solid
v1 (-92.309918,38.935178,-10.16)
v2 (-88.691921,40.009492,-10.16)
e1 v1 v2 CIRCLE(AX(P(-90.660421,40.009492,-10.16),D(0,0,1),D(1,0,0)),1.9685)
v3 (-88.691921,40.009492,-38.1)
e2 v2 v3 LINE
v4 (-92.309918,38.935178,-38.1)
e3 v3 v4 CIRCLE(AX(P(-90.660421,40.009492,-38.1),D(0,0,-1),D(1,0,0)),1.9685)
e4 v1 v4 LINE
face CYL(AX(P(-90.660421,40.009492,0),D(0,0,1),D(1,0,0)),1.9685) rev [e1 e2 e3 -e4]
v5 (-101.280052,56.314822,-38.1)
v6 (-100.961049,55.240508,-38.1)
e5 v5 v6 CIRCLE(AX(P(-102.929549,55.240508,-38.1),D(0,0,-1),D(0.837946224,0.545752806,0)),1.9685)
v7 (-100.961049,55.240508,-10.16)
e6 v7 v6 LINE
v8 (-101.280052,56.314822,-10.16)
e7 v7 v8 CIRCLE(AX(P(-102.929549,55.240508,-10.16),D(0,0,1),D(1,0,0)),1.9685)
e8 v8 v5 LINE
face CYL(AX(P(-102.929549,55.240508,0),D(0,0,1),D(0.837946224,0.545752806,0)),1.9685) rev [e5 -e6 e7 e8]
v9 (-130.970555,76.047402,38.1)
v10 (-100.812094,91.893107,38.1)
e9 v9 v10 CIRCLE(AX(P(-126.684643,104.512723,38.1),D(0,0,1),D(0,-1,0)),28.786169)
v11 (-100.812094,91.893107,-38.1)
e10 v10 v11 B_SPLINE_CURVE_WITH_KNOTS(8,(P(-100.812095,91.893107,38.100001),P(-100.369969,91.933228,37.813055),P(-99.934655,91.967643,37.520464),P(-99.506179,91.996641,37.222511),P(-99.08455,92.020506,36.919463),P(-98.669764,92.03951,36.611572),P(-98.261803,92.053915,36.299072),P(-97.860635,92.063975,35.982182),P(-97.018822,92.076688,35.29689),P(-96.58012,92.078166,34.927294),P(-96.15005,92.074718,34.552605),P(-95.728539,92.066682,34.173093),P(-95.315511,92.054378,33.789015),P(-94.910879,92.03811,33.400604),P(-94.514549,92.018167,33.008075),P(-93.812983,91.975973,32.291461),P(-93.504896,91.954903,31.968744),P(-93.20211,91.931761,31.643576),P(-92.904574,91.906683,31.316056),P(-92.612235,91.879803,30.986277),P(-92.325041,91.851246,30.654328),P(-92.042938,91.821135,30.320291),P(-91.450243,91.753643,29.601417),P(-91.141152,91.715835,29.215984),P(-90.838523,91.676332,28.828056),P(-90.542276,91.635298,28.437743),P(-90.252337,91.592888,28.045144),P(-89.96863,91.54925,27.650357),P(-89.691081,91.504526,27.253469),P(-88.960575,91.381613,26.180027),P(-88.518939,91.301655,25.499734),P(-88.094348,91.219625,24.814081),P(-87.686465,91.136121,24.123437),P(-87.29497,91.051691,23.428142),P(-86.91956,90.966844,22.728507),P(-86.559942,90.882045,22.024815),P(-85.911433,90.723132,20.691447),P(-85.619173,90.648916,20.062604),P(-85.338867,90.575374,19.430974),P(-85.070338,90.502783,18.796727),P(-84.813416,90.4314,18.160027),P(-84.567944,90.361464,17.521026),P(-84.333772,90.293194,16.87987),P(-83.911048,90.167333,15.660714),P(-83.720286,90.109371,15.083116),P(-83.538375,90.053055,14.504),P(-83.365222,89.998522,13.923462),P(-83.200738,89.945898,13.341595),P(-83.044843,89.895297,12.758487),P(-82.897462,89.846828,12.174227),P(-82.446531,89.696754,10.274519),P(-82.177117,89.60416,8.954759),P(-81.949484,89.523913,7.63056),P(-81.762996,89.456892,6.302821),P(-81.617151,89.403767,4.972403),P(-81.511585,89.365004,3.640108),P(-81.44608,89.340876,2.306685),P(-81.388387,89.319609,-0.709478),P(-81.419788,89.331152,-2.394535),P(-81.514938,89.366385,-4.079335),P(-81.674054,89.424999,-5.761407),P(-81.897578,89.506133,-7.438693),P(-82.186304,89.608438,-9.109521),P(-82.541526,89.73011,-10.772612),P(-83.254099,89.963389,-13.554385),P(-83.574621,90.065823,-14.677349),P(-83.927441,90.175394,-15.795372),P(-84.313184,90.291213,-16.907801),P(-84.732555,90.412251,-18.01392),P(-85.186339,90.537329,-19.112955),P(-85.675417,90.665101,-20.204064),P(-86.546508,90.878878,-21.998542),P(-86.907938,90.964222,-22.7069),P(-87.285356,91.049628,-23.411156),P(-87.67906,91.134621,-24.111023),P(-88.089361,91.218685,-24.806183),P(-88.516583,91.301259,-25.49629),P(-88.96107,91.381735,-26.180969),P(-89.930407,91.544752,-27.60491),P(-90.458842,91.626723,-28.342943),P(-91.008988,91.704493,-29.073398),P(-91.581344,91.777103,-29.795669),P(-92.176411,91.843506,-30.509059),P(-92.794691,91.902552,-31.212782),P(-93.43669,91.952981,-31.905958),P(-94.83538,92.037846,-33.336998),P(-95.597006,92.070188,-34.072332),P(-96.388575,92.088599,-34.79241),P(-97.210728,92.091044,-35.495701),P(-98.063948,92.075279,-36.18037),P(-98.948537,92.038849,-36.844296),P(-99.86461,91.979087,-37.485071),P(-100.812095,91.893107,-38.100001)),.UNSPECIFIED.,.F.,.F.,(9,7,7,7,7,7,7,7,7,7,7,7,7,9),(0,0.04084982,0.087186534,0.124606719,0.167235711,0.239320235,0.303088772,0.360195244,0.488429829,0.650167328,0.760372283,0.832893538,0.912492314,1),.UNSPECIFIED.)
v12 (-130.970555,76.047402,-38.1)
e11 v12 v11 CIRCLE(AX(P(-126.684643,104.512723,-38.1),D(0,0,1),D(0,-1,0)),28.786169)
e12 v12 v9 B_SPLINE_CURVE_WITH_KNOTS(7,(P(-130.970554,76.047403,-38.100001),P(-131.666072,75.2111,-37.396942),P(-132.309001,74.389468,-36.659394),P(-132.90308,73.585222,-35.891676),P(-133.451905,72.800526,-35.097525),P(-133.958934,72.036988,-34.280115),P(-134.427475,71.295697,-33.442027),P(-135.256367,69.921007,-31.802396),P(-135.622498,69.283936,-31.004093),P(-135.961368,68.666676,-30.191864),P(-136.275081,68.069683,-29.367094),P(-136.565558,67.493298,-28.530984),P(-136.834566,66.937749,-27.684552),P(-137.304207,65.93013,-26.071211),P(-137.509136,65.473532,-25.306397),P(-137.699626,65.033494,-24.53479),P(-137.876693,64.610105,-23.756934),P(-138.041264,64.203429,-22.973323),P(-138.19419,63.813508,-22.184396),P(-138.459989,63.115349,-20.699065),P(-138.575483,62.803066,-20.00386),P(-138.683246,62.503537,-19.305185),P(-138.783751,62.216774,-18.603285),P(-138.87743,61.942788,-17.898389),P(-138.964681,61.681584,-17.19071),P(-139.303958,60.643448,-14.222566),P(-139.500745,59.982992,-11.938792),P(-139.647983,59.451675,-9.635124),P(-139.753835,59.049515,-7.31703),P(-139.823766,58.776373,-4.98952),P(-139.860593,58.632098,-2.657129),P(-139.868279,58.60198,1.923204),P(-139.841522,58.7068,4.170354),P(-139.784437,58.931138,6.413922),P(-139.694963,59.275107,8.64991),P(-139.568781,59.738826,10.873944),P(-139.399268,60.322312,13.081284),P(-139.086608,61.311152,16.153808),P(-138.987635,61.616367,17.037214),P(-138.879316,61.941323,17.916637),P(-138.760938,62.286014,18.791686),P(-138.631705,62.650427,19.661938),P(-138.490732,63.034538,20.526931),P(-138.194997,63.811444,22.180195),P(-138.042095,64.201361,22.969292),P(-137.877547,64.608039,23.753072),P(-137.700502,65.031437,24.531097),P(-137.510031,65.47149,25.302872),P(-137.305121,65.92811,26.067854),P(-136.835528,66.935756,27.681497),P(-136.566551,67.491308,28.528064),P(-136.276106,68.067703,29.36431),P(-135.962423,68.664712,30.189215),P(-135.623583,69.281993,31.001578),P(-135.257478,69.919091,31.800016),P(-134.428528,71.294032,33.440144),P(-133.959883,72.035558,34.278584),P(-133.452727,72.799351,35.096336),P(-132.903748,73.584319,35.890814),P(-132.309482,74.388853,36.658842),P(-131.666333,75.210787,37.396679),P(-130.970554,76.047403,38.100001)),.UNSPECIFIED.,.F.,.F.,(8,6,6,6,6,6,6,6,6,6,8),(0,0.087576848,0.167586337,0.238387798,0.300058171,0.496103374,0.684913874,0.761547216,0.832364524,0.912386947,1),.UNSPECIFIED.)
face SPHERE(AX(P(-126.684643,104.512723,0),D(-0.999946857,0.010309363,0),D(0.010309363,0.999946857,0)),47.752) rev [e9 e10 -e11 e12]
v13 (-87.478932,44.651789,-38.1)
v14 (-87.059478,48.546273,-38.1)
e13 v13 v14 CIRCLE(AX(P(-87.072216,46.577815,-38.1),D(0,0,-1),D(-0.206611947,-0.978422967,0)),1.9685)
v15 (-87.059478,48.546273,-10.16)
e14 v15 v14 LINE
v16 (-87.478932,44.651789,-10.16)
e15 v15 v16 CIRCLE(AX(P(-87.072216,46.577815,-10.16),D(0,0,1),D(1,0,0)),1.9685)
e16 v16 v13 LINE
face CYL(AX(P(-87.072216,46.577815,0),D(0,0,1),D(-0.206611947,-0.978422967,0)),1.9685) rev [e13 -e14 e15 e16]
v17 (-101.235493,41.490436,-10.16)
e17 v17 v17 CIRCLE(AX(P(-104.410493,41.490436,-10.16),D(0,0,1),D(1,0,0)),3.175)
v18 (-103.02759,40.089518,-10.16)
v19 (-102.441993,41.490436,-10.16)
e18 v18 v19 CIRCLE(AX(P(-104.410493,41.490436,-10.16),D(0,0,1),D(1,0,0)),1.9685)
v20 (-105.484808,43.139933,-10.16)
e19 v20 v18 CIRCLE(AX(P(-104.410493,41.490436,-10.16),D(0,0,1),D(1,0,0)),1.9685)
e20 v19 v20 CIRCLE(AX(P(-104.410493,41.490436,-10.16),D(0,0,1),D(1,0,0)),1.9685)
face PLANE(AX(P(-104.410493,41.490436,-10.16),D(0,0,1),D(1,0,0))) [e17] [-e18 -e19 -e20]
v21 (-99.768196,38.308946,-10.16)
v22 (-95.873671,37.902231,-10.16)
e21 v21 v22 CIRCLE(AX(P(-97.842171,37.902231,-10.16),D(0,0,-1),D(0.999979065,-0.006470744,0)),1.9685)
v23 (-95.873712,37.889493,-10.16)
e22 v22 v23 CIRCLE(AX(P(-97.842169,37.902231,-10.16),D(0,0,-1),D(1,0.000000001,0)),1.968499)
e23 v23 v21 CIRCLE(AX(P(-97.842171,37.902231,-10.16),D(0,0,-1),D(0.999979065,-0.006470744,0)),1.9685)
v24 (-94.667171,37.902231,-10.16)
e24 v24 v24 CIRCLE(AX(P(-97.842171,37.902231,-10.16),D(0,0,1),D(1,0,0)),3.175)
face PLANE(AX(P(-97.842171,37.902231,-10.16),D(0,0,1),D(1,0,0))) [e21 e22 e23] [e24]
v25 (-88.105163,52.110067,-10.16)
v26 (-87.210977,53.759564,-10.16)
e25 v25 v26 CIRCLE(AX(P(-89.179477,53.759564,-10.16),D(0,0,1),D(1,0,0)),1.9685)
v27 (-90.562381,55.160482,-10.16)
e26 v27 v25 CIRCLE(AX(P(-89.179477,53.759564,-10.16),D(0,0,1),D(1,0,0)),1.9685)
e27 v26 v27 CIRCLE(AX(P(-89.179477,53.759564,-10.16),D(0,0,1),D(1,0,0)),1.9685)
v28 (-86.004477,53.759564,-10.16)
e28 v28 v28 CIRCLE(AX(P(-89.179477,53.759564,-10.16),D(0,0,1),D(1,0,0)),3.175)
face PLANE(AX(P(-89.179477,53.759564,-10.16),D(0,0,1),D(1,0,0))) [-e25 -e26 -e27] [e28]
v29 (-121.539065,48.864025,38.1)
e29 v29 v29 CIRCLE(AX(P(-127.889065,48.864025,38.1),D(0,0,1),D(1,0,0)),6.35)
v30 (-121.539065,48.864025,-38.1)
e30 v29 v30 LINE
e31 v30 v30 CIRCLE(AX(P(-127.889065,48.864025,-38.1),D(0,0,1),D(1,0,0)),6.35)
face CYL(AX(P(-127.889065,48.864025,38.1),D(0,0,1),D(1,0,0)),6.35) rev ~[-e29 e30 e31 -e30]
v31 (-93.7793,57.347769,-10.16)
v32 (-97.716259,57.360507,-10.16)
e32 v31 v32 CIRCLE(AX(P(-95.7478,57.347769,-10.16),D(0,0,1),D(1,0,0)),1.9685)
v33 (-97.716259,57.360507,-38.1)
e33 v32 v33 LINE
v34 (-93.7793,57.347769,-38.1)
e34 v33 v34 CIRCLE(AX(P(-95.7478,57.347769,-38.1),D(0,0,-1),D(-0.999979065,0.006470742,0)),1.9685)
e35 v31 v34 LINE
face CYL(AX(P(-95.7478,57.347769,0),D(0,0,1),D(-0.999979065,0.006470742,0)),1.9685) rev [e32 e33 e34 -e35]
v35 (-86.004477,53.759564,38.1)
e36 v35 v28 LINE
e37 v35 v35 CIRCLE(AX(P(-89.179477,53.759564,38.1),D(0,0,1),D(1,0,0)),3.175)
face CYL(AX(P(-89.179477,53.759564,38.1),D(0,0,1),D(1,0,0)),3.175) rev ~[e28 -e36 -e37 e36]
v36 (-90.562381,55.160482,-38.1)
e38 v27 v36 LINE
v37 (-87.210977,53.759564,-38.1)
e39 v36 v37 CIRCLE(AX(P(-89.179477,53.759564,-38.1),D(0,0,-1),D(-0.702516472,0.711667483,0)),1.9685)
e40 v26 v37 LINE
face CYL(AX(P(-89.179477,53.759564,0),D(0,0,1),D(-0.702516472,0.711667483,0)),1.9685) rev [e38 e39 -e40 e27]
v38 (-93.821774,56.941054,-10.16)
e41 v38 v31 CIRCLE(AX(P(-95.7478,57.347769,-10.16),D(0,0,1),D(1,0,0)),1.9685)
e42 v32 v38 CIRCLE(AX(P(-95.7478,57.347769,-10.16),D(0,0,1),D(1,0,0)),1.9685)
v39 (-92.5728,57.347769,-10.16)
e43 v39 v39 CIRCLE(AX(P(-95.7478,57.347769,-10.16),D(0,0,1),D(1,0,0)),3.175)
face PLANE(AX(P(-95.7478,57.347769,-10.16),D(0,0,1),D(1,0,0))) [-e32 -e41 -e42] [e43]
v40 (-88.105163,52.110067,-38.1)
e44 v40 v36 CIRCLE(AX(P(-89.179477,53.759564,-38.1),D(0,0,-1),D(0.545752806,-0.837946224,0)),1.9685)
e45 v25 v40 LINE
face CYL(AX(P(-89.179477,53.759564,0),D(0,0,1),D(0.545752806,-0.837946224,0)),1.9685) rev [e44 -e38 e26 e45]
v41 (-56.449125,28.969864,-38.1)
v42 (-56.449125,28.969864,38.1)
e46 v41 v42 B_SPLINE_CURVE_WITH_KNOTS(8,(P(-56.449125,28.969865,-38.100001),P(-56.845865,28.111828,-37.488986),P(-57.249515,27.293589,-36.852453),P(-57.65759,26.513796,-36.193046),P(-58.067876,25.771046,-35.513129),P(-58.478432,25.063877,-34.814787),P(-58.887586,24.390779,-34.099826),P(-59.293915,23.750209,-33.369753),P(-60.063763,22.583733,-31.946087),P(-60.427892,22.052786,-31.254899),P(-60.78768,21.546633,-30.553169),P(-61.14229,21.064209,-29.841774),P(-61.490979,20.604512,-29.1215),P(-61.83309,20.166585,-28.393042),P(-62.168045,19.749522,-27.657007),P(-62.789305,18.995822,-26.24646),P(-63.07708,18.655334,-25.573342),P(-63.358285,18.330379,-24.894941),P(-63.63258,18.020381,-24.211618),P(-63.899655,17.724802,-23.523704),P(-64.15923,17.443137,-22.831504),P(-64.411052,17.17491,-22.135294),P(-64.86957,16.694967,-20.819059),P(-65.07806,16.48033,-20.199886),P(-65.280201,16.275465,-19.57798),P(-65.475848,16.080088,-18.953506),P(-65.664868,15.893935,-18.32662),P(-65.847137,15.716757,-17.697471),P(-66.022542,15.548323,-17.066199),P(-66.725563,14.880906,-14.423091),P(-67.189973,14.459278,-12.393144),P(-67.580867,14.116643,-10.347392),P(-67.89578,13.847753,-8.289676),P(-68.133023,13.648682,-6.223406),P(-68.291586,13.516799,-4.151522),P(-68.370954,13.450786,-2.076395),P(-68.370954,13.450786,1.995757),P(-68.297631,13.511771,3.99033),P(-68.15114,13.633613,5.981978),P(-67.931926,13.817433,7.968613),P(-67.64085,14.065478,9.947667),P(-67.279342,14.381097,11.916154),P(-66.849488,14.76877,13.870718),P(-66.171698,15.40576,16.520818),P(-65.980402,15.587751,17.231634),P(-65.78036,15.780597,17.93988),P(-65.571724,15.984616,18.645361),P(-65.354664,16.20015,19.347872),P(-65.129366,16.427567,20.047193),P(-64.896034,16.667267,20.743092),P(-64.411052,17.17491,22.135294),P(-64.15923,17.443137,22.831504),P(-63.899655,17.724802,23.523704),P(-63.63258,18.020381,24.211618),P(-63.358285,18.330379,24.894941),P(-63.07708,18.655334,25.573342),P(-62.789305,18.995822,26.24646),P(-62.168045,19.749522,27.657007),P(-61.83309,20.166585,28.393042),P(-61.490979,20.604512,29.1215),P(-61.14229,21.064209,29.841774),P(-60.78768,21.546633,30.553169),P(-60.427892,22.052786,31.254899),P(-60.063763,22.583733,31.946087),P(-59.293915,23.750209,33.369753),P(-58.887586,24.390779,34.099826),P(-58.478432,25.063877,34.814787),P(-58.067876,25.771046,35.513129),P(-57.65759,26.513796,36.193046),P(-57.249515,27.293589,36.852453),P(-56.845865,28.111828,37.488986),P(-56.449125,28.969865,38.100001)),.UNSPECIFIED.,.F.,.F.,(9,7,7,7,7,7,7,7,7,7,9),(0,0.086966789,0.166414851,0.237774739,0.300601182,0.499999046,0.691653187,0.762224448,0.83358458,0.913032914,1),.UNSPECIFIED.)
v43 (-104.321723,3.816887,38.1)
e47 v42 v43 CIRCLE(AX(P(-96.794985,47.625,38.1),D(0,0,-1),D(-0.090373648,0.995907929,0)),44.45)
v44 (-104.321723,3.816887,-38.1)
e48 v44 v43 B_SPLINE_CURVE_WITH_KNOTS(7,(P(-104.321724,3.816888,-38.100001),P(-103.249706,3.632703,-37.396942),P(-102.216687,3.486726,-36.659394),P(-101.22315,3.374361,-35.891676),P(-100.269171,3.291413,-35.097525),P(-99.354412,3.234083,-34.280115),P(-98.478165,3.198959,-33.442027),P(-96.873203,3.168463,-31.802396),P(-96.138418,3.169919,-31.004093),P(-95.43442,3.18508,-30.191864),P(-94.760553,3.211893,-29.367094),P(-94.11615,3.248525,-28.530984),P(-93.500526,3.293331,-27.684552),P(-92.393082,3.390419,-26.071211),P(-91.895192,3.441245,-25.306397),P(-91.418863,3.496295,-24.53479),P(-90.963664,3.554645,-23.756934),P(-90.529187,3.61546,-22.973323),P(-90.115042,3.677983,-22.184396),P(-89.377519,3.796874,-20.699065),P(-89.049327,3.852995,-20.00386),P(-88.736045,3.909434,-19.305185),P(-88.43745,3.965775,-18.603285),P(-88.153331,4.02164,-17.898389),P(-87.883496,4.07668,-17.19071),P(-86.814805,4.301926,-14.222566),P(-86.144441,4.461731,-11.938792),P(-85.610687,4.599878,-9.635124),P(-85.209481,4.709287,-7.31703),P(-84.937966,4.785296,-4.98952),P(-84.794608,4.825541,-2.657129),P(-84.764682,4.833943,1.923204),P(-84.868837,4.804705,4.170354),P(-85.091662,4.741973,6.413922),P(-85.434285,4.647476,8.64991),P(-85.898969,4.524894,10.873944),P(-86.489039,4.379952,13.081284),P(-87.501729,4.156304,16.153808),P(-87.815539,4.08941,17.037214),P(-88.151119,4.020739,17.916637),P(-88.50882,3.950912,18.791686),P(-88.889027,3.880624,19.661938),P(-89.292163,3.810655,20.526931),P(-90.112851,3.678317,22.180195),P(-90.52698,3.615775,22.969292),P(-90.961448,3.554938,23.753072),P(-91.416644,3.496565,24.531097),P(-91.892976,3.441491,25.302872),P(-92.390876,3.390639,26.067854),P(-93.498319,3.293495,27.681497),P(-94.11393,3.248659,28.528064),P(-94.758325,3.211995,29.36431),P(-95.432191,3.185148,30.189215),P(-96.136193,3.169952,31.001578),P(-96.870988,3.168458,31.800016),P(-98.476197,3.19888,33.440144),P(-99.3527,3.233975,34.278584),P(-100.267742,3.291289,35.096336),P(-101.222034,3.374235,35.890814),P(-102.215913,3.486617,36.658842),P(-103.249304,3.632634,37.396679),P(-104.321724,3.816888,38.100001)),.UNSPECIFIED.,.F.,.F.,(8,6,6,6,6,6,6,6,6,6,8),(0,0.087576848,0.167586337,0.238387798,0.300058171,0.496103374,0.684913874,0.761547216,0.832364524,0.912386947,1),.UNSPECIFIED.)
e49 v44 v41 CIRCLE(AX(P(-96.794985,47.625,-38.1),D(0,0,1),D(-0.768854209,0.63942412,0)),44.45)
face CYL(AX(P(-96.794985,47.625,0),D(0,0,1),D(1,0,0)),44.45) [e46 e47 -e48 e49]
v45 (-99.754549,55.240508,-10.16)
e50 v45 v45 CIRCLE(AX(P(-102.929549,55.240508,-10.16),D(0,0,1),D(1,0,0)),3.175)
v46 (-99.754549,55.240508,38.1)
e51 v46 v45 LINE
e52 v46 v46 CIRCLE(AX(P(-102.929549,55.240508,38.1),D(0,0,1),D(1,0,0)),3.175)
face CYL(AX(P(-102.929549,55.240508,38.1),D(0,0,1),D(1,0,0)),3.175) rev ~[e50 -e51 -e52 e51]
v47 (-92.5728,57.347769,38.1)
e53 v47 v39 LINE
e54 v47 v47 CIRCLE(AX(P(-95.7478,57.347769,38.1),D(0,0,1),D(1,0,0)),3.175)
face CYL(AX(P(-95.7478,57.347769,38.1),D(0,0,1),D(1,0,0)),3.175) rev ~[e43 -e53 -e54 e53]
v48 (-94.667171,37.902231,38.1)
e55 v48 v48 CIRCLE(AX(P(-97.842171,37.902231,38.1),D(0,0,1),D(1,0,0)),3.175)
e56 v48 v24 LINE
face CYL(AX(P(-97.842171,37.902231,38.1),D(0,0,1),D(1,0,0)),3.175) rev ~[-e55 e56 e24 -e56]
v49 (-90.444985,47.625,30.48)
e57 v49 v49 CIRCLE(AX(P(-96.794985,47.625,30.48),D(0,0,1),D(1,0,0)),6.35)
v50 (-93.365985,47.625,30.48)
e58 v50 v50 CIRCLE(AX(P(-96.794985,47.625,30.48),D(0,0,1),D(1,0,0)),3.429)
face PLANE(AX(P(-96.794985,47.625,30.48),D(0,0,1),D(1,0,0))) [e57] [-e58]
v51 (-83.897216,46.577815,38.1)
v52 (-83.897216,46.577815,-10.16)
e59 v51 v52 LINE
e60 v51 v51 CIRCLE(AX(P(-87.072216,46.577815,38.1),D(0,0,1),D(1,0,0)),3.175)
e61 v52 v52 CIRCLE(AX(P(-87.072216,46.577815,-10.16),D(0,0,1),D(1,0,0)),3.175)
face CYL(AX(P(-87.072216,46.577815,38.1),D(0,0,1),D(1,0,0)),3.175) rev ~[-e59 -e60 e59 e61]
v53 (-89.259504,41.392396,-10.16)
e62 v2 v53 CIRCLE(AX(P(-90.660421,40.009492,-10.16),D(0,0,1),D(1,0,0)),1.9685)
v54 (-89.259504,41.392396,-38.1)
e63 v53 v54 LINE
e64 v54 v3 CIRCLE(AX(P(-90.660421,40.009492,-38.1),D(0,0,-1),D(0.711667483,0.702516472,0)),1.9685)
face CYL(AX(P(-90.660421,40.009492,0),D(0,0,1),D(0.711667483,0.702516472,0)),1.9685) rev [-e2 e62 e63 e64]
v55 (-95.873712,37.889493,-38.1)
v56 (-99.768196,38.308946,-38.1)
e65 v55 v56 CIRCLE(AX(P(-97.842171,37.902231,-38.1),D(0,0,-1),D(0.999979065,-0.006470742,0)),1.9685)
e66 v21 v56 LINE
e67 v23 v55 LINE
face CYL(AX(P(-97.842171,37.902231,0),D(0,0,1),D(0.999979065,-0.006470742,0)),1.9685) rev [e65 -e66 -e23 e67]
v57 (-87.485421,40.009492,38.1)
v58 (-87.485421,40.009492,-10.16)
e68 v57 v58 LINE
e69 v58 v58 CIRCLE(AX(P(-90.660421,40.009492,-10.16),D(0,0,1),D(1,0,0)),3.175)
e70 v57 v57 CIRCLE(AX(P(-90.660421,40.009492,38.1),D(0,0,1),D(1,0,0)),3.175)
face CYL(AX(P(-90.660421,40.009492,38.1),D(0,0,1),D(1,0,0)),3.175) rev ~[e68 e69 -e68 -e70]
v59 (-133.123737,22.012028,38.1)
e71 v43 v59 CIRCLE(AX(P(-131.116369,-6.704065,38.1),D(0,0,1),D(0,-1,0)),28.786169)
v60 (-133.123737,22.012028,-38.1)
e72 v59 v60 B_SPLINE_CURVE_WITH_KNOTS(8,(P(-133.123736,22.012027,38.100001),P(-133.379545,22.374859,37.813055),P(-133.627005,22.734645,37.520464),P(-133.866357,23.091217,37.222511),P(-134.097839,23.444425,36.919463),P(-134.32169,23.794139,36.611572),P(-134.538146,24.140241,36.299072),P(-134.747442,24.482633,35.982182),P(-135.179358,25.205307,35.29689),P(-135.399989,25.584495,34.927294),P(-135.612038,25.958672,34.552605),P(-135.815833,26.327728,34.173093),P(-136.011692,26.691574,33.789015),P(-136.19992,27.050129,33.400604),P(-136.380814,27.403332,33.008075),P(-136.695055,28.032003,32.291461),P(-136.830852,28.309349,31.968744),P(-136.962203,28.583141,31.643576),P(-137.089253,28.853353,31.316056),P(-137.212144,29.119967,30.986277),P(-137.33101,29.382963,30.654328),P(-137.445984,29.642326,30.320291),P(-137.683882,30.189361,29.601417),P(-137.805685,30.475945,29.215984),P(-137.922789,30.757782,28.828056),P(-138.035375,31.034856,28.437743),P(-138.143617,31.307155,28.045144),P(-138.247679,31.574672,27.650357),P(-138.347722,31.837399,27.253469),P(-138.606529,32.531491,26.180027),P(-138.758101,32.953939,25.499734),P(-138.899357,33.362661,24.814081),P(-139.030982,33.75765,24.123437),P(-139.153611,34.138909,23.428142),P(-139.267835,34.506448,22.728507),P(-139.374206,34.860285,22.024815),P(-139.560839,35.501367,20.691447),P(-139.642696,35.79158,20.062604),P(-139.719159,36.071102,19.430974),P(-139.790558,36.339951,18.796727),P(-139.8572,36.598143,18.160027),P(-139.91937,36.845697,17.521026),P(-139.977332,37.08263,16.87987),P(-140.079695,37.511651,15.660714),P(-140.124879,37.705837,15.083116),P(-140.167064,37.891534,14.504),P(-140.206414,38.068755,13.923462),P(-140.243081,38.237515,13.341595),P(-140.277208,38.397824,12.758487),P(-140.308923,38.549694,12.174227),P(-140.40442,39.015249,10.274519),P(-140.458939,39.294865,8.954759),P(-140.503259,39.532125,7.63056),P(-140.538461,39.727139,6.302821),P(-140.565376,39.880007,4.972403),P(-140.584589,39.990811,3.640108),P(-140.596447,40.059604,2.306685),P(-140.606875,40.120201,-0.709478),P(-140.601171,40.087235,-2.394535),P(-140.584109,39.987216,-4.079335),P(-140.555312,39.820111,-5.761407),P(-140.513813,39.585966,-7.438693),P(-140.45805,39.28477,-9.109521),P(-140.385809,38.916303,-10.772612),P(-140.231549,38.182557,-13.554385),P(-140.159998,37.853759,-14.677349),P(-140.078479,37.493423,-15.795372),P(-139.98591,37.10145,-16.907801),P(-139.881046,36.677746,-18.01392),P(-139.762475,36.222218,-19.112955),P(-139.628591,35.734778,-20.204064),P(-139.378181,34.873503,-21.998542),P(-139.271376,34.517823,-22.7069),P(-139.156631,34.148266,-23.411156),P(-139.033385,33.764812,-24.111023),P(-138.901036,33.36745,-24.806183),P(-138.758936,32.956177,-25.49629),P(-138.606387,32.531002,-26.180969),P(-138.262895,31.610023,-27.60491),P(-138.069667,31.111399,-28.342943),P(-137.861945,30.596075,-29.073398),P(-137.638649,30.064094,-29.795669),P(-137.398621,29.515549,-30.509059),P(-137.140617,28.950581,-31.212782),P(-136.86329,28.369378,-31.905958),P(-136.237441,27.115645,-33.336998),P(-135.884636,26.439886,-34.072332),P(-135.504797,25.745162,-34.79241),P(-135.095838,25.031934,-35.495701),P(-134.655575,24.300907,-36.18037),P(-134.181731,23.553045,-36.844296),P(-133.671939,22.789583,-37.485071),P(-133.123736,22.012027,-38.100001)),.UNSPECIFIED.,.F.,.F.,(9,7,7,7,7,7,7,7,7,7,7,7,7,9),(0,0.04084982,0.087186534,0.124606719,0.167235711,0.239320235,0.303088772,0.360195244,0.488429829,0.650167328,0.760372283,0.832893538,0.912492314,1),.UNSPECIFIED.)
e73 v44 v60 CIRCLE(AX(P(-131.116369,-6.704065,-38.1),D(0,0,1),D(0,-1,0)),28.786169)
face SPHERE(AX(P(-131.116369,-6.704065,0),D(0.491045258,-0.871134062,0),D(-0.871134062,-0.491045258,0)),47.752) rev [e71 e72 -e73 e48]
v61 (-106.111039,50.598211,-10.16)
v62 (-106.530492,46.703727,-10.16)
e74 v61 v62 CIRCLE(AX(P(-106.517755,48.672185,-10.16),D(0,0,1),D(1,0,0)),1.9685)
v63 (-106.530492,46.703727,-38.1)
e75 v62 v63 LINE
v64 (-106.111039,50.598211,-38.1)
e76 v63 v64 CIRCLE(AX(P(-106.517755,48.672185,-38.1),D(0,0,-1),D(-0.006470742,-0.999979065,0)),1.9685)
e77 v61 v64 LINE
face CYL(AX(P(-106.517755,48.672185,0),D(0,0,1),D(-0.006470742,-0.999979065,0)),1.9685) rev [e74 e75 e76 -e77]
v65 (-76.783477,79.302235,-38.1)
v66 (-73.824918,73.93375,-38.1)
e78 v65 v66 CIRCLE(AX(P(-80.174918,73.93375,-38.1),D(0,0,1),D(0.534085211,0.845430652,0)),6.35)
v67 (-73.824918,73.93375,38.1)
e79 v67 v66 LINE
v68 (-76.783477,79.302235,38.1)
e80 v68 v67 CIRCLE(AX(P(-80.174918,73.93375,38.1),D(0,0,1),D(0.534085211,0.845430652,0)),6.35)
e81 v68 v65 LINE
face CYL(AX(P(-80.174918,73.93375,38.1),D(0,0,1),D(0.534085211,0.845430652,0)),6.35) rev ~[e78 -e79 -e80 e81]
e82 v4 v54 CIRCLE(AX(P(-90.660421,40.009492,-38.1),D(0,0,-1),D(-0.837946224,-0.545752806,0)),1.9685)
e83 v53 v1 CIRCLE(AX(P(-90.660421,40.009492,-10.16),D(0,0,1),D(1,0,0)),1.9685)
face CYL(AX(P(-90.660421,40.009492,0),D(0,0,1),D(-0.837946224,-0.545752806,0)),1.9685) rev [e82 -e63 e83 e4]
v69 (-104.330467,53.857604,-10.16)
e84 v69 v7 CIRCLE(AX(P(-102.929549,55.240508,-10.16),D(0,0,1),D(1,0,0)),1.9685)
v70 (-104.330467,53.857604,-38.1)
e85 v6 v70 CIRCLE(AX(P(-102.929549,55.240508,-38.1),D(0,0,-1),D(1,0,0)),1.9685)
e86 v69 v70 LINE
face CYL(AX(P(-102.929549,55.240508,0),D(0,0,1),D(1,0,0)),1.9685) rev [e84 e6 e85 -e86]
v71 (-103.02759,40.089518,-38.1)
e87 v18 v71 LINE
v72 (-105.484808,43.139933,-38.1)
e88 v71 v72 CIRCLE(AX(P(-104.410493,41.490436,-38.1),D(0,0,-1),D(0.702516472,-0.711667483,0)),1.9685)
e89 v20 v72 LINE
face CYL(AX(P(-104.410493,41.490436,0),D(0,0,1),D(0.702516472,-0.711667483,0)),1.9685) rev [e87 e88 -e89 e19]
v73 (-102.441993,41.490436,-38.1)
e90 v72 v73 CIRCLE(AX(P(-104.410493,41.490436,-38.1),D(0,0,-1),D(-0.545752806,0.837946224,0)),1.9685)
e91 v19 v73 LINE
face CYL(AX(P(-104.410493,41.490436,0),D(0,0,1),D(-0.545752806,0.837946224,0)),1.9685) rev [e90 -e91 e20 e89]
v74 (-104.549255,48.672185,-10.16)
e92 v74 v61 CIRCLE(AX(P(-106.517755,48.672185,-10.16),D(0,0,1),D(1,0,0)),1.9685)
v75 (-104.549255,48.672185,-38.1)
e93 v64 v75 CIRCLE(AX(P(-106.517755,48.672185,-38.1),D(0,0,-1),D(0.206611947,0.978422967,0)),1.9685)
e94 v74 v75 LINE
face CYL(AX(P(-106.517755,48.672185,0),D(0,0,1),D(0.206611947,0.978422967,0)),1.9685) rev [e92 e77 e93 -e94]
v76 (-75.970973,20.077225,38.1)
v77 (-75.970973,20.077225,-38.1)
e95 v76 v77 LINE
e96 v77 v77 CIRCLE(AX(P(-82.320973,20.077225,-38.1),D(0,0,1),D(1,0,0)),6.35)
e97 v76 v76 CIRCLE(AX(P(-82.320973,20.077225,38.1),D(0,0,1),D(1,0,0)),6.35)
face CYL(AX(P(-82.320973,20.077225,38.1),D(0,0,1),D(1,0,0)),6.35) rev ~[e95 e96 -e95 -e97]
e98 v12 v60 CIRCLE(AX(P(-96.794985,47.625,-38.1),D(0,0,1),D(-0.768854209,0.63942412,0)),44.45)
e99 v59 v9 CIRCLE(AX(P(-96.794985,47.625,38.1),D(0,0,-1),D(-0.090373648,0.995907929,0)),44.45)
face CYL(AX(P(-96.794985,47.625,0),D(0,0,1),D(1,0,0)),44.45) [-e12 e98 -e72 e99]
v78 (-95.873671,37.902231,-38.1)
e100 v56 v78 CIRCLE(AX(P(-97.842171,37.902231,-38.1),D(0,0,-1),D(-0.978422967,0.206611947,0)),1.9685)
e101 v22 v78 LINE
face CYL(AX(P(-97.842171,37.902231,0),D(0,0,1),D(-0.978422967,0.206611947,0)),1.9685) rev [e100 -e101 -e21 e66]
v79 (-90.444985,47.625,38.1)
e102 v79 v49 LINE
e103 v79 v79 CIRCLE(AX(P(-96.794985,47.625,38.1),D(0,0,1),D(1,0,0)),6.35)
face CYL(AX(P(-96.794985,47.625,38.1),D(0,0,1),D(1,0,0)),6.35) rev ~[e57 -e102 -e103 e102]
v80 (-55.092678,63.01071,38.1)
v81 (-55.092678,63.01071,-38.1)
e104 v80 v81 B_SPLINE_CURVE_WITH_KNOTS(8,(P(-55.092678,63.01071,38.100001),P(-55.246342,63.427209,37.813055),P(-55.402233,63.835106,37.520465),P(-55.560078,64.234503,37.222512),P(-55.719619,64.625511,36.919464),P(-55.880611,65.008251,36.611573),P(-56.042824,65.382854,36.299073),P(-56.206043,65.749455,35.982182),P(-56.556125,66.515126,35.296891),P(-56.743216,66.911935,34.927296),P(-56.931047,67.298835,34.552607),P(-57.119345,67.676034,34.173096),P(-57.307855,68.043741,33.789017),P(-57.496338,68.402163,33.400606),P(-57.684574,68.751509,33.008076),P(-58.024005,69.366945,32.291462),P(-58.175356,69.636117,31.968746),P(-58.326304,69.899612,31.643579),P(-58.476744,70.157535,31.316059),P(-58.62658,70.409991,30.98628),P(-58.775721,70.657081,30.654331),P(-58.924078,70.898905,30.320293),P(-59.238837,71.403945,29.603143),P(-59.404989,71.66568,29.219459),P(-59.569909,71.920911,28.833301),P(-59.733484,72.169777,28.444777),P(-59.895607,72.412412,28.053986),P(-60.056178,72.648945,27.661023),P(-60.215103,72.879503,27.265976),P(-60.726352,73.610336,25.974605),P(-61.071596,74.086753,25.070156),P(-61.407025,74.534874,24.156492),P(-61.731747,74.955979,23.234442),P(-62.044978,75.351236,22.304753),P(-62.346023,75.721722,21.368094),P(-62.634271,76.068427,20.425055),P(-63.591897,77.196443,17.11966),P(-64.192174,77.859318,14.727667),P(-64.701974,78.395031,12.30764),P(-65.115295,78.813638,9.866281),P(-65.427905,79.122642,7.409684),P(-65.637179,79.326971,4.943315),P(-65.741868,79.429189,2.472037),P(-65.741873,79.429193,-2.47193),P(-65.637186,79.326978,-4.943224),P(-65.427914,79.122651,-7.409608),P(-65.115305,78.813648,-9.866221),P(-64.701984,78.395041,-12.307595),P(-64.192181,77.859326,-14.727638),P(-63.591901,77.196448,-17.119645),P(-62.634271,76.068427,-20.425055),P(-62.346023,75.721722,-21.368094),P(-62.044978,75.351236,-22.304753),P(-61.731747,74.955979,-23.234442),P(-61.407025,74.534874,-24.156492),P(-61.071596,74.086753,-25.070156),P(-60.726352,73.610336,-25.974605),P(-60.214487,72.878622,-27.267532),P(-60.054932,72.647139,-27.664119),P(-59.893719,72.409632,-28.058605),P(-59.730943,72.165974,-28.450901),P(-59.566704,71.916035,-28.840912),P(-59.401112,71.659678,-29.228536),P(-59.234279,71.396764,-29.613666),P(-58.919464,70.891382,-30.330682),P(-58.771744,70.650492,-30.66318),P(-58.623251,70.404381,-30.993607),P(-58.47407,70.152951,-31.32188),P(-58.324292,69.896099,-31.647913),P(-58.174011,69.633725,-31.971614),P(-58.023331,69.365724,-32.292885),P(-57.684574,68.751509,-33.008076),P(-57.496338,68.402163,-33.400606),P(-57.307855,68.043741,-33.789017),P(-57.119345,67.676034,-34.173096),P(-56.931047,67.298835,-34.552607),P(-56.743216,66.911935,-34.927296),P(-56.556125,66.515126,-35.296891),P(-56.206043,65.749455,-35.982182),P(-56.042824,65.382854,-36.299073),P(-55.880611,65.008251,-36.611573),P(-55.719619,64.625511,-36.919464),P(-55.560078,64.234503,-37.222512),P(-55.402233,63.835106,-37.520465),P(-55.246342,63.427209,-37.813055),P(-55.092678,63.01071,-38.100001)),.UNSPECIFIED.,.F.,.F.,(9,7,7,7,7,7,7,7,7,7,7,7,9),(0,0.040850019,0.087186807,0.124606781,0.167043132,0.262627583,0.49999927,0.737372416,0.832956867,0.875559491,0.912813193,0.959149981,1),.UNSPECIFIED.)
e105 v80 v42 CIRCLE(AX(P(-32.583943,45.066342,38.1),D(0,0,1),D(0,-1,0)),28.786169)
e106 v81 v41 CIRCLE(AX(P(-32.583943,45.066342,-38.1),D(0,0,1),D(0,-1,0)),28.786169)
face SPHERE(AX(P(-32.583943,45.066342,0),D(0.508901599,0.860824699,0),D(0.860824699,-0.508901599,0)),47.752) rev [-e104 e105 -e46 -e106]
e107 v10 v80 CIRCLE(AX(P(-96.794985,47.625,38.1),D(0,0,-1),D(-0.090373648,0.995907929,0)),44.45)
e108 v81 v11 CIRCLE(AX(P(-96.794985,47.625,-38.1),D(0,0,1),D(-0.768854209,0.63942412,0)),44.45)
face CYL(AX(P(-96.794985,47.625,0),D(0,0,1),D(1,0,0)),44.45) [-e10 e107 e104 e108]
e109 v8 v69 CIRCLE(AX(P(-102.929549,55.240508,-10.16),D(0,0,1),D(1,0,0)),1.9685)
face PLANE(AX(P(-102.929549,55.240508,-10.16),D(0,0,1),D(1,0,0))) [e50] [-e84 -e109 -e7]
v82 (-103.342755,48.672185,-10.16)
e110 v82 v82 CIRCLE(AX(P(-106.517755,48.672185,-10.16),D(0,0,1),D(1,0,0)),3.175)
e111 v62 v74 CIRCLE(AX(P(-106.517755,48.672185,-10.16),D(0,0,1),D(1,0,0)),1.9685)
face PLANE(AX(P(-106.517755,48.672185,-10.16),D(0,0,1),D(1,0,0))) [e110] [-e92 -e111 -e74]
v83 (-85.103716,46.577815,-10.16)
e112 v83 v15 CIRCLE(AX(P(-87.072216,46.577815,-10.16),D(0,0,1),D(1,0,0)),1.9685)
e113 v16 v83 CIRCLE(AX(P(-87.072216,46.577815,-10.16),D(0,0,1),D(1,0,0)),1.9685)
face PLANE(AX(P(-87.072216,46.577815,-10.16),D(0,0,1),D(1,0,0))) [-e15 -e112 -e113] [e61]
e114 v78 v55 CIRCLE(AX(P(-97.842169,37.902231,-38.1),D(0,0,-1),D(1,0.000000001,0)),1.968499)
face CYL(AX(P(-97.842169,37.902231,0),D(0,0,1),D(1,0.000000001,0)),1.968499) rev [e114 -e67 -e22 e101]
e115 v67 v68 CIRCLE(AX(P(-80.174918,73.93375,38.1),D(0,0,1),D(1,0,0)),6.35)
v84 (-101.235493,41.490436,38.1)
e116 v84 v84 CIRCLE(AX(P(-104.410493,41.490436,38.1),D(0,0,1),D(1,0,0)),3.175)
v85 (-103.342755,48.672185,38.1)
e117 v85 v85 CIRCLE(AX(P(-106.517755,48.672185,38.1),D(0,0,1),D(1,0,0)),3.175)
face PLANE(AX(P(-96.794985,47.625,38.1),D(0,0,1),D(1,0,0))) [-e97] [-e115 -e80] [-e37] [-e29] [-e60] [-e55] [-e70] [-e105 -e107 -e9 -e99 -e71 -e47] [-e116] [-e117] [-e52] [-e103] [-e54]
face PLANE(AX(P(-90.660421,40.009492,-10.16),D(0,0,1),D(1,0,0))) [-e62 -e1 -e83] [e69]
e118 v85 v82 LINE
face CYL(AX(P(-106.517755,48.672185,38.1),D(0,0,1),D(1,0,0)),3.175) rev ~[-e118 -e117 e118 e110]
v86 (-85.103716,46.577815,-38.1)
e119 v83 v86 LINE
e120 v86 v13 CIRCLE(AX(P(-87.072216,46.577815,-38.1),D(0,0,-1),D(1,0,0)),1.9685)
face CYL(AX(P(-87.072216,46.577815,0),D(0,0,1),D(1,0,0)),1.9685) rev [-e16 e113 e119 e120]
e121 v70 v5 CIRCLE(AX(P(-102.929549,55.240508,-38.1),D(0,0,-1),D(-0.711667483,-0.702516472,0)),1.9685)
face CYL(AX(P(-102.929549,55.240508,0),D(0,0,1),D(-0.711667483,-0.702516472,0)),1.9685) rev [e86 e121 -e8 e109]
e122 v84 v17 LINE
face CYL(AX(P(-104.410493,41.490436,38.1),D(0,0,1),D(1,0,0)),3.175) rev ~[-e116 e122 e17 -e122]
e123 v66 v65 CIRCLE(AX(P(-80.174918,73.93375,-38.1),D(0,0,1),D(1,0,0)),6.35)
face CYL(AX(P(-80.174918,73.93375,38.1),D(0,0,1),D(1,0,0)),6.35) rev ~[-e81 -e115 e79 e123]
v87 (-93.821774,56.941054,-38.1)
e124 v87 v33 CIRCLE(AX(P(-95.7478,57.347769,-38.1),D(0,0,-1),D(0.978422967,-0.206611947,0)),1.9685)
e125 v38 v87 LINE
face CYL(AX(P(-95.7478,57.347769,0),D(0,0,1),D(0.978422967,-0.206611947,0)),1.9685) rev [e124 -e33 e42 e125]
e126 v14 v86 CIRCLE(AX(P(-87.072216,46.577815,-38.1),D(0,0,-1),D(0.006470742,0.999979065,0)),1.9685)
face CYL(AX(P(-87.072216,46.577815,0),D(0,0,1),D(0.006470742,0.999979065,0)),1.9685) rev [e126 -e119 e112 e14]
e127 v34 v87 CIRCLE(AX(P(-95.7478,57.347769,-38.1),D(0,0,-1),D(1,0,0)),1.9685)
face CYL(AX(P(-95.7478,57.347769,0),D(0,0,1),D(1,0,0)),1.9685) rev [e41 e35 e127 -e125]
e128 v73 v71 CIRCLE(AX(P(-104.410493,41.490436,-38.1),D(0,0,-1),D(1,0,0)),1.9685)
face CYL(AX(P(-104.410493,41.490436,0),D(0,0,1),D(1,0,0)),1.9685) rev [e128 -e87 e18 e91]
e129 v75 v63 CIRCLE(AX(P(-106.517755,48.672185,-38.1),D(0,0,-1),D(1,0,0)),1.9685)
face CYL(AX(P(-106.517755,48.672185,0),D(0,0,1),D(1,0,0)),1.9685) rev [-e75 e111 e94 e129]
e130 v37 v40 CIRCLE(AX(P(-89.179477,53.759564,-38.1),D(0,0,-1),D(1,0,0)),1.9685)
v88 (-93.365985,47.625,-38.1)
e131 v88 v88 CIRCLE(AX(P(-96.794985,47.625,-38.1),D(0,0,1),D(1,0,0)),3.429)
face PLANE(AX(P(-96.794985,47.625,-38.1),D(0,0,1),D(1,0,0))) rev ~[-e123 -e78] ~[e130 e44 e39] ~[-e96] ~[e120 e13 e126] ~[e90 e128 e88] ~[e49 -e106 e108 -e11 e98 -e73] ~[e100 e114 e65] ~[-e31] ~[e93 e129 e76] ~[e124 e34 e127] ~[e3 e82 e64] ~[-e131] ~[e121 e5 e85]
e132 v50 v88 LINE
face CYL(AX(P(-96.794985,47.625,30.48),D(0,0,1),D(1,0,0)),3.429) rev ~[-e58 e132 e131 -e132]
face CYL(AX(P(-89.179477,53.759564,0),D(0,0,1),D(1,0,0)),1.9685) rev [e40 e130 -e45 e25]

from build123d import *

# Parameters (mm, degrees)
F0_R          = 44.45
F0_R_2        = 16.51
F1_DEPTH      = 38.1
F1_DEPTH_BACK = 38.1
F6_R          = 3.175
F6_R_2        = 1.9685
F7_DEPTH      = 48.26
F8_R          = 6.35
F9_DEPTH      = 7.62
F10_R         = 3.429
F11_DEPTH     = 68.58
F12_R         = 6.35
F13_DEPTH     = 76.2


with BuildPart() as f1:
    # F0 (on Top) → F1 (new body, two sides)
    with BuildSketch(Plane.XY) as f1_sk:
        with Locations((-96.7949852347, 47.625)):
            Circle(F0_R)
        with Locations((-96.7949852347, 47.625)):
            Circle(F0_R_2, mode=Mode.SUBTRACT)
        with Locations((-96.7949852347, 47.625)):
            Circle(F0_R_2)
        with BuildLine():
            ThreePointArc((-88.1051627648, 52.1100670498), (-87.4115771175, 50.37826953), (-87.0594782396, 48.5462733292))
            ThreePointArc((-87.0594782396, 48.5462733292), (-85.6757800173, 47.965243489), (-85.103715896, 46.5778145407))
            ThreePointArc((-85.103715896, 46.5778145407), (-85.8323827306, 45.0488259953), (-87.478931514, 44.6517889292))
            ThreePointArc((-87.478931514, 44.6517889292), (-88.2130581693, 42.9367840447), (-89.2595036018, 41.3923956038))
            ThreePointArc((-89.2595036018, 41.3923956038), (-88.839336444, 40.7569162622), (-88.6919210429, 40.0094919292))
            ThreePointArc((-88.6919210429, 40.0094919292), (-90.1000831422, 38.1224270954), (-92.309918185, 38.9351775301))
            ThreePointArc((-92.309918185, 38.9351775301), (-94.0417157047, 38.2415918827), (-95.8737119056, 37.8894930048))
            ThreePointArc((-95.8737119056, 37.8894930048), (-98.0529677671, 35.9450498204), (-99.7681963056, 38.3089462792))
            ThreePointArc((-99.7681963056, 38.3089462792), (-101.48320119, 39.0430729345), (-103.0275896309, 40.089518367))
            ThreePointArc((-103.0275896309, 40.089518367), (-105.9434851899, 40.2555560033), (-105.4848077047, 43.1399329502))
            ThreePointArc((-105.4848077047, 43.1399329502), (-106.178393352, 44.87173047), (-106.5304922299, 46.7037266708))
            ThreePointArc((-106.5304922299, 46.7037266708), (-108.4749354144, 48.8829825323), (-106.1110389555, 50.5982110708))
            ThreePointArc((-106.1110389555, 50.5982110708), (-105.3769123002, 52.3132159553), (-104.3304668677, 53.8576043962))
            ThreePointArc((-104.3304668677, 53.8576043962), (-104.1644292314, 56.7734999551), (-101.2800522845, 56.3148224699))
            ThreePointArc((-101.2800522845, 56.3148224699), (-99.5482547647, 57.0084081173), (-97.7162585639, 57.3605069952))
            ThreePointArc((-97.7162585639, 57.3605069952), (-95.7414309138, 59.3162590358), (-93.7792997754, 57.3477693387))
            ThreePointArc((-93.7792997754, 57.3477693387), (-93.7899471678, 57.1433056087), (-93.8217741639, 56.9410537208))
            ThreePointArc((-93.8217741639, 56.9410537208), (-92.1067692795, 56.2069270655), (-90.5623808386, 55.160481633))
            ThreePointArc((-90.5623808386, 55.160481633), (-88.4202847093, 55.5757742752), (-87.210977164, 53.7595641919))
            ThreePointArc((-87.210977164, 53.7595641919), (-87.4489020941, 52.8214265806), (-88.1051627648, 52.1100670498))
        make_face(mode=Mode.SUBTRACT)
        with BuildLine():
            ThreePointArc((-87.478931514, 44.6517889292), (-89.0293967369, 46.7886116136), (-87.0594782396, 48.5462733292))
            ThreePointArc((-87.0594782396, 48.5462733292), (-87.4115771175, 50.37826953), (-88.1051627648, 52.1100670498))
            ThreePointArc((-88.1051627648, 52.1100670498), (-90.7124690483, 52.524684387), (-90.5623808386, 55.160481633))
            ThreePointArc((-90.5623808386, 55.160481633), (-92.1067692795, 56.2069270655), (-93.8217741639, 56.9410537208))
            ThreePointArc((-93.8217741639, 56.9410537208), (-95.9585968484, 55.3905884978), (-97.7162585639, 57.3605069952))
            ThreePointArc((-97.7162585639, 57.3605069952), (-99.5482547647, 57.0084081173), (-101.2800522845, 56.3148224699))
            ThreePointArc((-101.2800522845, 56.3148224699), (-101.0424845928, 55.8008459714), (-100.9610494266, 55.2405080708))
            ThreePointArc((-100.9610494266, 55.2405080708), (-102.1821250936, 53.4194234719), (-104.3304668677, 53.8576043962))
            ThreePointArc((-104.3304668677, 53.8576043962), (-105.3769123002, 52.3132159553), (-106.1110389555, 50.5982110708))
            ThreePointArc((-106.1110389555, 50.5982110708), (-104.988766028, 49.9120186247), (-104.5492545734, 48.6721854593))
            ThreePointArc((-104.5492545734, 48.6721854593), (-105.1303256251, 47.2757495806), (-106.5304922299, 46.7037266708))
            ThreePointArc((-106.5304922299, 46.7037266708), (-106.178393352, 44.87173047), (-105.4848077047, 43.1399329502))
            ThreePointArc((-105.4848077047, 43.1399329502), (-103.4723556943, 43.221010878), (-102.4419933055, 41.4904358081))
            ThreePointArc((-102.4419933055, 41.4904358081), (-102.5942832222, 40.7312433534), (-103.0275896309, 40.089518367))
            ThreePointArc((-103.0275896309, 40.089518367), (-101.48320119, 39.0430729345), (-99.7681963056, 38.3089462792))
            ThreePointArc((-99.7681963056, 38.3089462792), (-97.6377069641, 39.8600832689), (-95.8736706941, 37.9022306613))
            ThreePointArc((-95.8736706941, 37.9022306613), (-95.873680997, 37.8958617997), (-95.8737119056, 37.8894930048))
            ThreePointArc((-95.8737119056, 37.8894930048), (-94.0417157047, 38.2415918827), (-92.309918185, 38.9351775301))
            ThreePointArc((-92.309918185, 38.9351775301), (-91.8953008477, 41.5424838136), (-89.2595036018, 41.3923956038))
            ThreePointArc((-89.2595036018, 41.3923956038), (-88.2130581693, 42.9367840447), (-87.478931514, 44.6517889292))
        make_face()
    extrude(amount=F1_DEPTH)
    extrude(f1_sk.sketch, amount=-F1_DEPTH_BACK)

    # F2 (on Top) → F3 (revolve, cut)
    with BuildSketch(Plane.XY):
        with BuildLine():
            Line((-107.66797587, -48.3024583081), (-131.1163690465, -6.7040645718))
            Line((-131.1163690465, -6.7040645718), (-154.564762223, 34.8943291645))
            ThreePointArc((-154.564762223, 34.8943291645), (-172.7147627828, -30.1524577483), (-107.66797587, -48.3024583081))
        make_face()
        with BuildLine():
            Line((-174.4341057324, 105.0050152593), (-126.6846434119, 104.5127225599))
            Line((-126.6846434119, 104.5127225599), (-78.9351810914, 104.0204298605))
            ThreePointArc((-78.9351810914, 104.0204298605), (-126.1923507125, 152.2621848804), (-174.4341057324, 105.0050152593))
        make_face()
        with BuildLine():
            Line((-8.2828741018, 86.1724430488), (-32.5839432458, 45.0663420119))
            Line((-32.5839432458, 45.0663420119), (-56.8850123899, 3.960240975))
            ThreePointArc((-56.8850123899, 3.960240975), (8.5221577911, 20.7652728678), (-8.2828741018, 86.1724430488))
        make_face()
    revolve(axis=Axis((-150.5593745721, 104.7588689096, 0), (0.9999468571, -0.0103093629, 0)), mode=Mode.SUBTRACT)

    # F2 (on Top) → F4 (revolve, cut)
    with BuildSketch(Plane.XY):
        with BuildLine():
            Line((-8.2828741018, 86.1724430488), (-32.5839432458, 45.0663420119))
            Line((-32.5839432458, 45.0663420119), (-56.8850123899, 3.960240975))
            ThreePointArc((-56.8850123899, 3.960240975), (8.5221577911, 20.7652728678), (-8.2828741018, 86.1724430488))
        make_face()
    revolve(axis=Axis((-44.7344778179, 24.5132914934, 0), (-0.5089015988, -0.8608246992, 0)), mode=Mode.SUBTRACT)

    # F2 (on Top) → F5 (revolve, cut)
    with BuildSketch(Plane.XY):
        with BuildLine():
            Line((-107.66797587, -48.3024583081), (-131.1163690465, -6.7040645718))
            Line((-131.1163690465, -6.7040645718), (-154.564762223, 34.8943291645))
            ThreePointArc((-154.564762223, 34.8943291645), (-172.7147627828, -30.1524577483), (-107.66797587, -48.3024583081))
        make_face()
    revolve(axis=Axis((-119.3921724583, -27.5032614399, 0), (-0.4910452583, 0.8711340622, 0)), mode=Mode.SUBTRACT)

    # F6 (on face) → F7 (cut)
    with BuildSketch(Plane.XY.offset(38.1)):
        with Locations((-102.9295494266, 55.2405080708)):
            Circle(F6_R)
        with Locations((-102.9295494266, 55.2405080708)):
            Circle(F6_R_2, mode=Mode.SUBTRACT)
        with Locations((-95.7477997754, 57.3477693387)):
            Circle(F6_R)
        with Locations((-95.7477997754, 57.3477693387)):
            Circle(F6_R_2, mode=Mode.SUBTRACT)
        with Locations((-89.179477164, 53.7595641919)):
            Circle(F6_R)
        with Locations((-89.179477164, 53.7595641919)):
            Circle(F6_R_2, mode=Mode.SUBTRACT)
        with Locations((-87.072215896, 46.5778145407)):
            Circle(F6_R)
        with Locations((-87.072215896, 46.5778145407)):
            Circle(F6_R_2, mode=Mode.SUBTRACT)
        with Locations((-90.6604210429, 40.0094919292)):
            Circle(F6_R)
        with Locations((-90.6604210429, 40.0094919292)):
            Circle(F6_R_2, mode=Mode.SUBTRACT)
        with Locations((-97.8421706941, 37.9022306613)):
            Circle(F6_R)
        with BuildLine():
            ThreePointArc((-95.8736706941, 37.9022306613), (-95.873680997, 37.8958617997), (-95.8737119056, 37.8894930048))
            ThreePointArc((-95.8737119056, 37.8894930048), (-99.8106603912, 37.9085995228), (-95.8736706941, 37.9022306613))
        make_face(mode=Mode.SUBTRACT)
        with Locations((-104.4104933055, 41.4904358081)):
            Circle(F6_R)
        with Locations((-104.4104933055, 41.4904358081)):
            Circle(F6_R_2, mode=Mode.SUBTRACT)
        with Locations((-106.5177545734, 48.6721854593)):
            Circle(F6_R)
        with Locations((-106.5177545734, 48.6721854593)):
            Circle(F6_R_2, mode=Mode.SUBTRACT)
    extrude(amount=-F7_DEPTH, mode=Mode.SUBTRACT)

    # F8 (on face) → F9 (cut)
    with BuildSketch(Plane.XY.offset(38.1)):
        with Locations((-96.7949852347, 47.625)):
            Circle(F8_R)
    extrude(amount=-F9_DEPTH, mode=Mode.SUBTRACT)

    # F10 (on face) → F11 (cut, through all)
    with BuildSketch(Plane.XY.offset(30.48)):
        with Locations((-96.7949852347, 47.625)):
            Circle(F10_R)
    extrude(amount=-F11_DEPTH, mode=Mode.SUBTRACT)

    # F12 (on face) → F13 (cut, through all)
    with BuildSketch(Plane.XY.offset(38.1)):
        with Locations((-127.8890646346, 48.8640254414)):
            Circle(F12_R)
        with BuildLine():
            ThreePointArc((-76.7834769385, 79.3022345884), (-85.5434026681, 77.325191035), (-83.5663591148, 68.5652653054))
            Line((-83.5663591148, 68.5652653054), (-76.7834769385, 79.3022345884))
        make_face()
        with BuildLine():
            Line((-76.7834769385, 79.3022345884), (-83.5663591148, 68.5652653054))
            ThreePointArc((-83.5663591148, 68.5652653054), (-77.1100486093, 68.3723584434), (-73.8249180267, 73.9337499469))
            ThreePointArc((-73.8249180267, 73.9337499469), (-74.6135265232, 76.9986193642), (-76.7834769385, 79.3022345884))
        make_face()
        with Locations((-82.3209730429, 20.0772246117)):
            Circle(F12_R)
    extrude(amount=-F13_DEPTH, mode=Mode.SUBTRACT)


solid = f1.part
